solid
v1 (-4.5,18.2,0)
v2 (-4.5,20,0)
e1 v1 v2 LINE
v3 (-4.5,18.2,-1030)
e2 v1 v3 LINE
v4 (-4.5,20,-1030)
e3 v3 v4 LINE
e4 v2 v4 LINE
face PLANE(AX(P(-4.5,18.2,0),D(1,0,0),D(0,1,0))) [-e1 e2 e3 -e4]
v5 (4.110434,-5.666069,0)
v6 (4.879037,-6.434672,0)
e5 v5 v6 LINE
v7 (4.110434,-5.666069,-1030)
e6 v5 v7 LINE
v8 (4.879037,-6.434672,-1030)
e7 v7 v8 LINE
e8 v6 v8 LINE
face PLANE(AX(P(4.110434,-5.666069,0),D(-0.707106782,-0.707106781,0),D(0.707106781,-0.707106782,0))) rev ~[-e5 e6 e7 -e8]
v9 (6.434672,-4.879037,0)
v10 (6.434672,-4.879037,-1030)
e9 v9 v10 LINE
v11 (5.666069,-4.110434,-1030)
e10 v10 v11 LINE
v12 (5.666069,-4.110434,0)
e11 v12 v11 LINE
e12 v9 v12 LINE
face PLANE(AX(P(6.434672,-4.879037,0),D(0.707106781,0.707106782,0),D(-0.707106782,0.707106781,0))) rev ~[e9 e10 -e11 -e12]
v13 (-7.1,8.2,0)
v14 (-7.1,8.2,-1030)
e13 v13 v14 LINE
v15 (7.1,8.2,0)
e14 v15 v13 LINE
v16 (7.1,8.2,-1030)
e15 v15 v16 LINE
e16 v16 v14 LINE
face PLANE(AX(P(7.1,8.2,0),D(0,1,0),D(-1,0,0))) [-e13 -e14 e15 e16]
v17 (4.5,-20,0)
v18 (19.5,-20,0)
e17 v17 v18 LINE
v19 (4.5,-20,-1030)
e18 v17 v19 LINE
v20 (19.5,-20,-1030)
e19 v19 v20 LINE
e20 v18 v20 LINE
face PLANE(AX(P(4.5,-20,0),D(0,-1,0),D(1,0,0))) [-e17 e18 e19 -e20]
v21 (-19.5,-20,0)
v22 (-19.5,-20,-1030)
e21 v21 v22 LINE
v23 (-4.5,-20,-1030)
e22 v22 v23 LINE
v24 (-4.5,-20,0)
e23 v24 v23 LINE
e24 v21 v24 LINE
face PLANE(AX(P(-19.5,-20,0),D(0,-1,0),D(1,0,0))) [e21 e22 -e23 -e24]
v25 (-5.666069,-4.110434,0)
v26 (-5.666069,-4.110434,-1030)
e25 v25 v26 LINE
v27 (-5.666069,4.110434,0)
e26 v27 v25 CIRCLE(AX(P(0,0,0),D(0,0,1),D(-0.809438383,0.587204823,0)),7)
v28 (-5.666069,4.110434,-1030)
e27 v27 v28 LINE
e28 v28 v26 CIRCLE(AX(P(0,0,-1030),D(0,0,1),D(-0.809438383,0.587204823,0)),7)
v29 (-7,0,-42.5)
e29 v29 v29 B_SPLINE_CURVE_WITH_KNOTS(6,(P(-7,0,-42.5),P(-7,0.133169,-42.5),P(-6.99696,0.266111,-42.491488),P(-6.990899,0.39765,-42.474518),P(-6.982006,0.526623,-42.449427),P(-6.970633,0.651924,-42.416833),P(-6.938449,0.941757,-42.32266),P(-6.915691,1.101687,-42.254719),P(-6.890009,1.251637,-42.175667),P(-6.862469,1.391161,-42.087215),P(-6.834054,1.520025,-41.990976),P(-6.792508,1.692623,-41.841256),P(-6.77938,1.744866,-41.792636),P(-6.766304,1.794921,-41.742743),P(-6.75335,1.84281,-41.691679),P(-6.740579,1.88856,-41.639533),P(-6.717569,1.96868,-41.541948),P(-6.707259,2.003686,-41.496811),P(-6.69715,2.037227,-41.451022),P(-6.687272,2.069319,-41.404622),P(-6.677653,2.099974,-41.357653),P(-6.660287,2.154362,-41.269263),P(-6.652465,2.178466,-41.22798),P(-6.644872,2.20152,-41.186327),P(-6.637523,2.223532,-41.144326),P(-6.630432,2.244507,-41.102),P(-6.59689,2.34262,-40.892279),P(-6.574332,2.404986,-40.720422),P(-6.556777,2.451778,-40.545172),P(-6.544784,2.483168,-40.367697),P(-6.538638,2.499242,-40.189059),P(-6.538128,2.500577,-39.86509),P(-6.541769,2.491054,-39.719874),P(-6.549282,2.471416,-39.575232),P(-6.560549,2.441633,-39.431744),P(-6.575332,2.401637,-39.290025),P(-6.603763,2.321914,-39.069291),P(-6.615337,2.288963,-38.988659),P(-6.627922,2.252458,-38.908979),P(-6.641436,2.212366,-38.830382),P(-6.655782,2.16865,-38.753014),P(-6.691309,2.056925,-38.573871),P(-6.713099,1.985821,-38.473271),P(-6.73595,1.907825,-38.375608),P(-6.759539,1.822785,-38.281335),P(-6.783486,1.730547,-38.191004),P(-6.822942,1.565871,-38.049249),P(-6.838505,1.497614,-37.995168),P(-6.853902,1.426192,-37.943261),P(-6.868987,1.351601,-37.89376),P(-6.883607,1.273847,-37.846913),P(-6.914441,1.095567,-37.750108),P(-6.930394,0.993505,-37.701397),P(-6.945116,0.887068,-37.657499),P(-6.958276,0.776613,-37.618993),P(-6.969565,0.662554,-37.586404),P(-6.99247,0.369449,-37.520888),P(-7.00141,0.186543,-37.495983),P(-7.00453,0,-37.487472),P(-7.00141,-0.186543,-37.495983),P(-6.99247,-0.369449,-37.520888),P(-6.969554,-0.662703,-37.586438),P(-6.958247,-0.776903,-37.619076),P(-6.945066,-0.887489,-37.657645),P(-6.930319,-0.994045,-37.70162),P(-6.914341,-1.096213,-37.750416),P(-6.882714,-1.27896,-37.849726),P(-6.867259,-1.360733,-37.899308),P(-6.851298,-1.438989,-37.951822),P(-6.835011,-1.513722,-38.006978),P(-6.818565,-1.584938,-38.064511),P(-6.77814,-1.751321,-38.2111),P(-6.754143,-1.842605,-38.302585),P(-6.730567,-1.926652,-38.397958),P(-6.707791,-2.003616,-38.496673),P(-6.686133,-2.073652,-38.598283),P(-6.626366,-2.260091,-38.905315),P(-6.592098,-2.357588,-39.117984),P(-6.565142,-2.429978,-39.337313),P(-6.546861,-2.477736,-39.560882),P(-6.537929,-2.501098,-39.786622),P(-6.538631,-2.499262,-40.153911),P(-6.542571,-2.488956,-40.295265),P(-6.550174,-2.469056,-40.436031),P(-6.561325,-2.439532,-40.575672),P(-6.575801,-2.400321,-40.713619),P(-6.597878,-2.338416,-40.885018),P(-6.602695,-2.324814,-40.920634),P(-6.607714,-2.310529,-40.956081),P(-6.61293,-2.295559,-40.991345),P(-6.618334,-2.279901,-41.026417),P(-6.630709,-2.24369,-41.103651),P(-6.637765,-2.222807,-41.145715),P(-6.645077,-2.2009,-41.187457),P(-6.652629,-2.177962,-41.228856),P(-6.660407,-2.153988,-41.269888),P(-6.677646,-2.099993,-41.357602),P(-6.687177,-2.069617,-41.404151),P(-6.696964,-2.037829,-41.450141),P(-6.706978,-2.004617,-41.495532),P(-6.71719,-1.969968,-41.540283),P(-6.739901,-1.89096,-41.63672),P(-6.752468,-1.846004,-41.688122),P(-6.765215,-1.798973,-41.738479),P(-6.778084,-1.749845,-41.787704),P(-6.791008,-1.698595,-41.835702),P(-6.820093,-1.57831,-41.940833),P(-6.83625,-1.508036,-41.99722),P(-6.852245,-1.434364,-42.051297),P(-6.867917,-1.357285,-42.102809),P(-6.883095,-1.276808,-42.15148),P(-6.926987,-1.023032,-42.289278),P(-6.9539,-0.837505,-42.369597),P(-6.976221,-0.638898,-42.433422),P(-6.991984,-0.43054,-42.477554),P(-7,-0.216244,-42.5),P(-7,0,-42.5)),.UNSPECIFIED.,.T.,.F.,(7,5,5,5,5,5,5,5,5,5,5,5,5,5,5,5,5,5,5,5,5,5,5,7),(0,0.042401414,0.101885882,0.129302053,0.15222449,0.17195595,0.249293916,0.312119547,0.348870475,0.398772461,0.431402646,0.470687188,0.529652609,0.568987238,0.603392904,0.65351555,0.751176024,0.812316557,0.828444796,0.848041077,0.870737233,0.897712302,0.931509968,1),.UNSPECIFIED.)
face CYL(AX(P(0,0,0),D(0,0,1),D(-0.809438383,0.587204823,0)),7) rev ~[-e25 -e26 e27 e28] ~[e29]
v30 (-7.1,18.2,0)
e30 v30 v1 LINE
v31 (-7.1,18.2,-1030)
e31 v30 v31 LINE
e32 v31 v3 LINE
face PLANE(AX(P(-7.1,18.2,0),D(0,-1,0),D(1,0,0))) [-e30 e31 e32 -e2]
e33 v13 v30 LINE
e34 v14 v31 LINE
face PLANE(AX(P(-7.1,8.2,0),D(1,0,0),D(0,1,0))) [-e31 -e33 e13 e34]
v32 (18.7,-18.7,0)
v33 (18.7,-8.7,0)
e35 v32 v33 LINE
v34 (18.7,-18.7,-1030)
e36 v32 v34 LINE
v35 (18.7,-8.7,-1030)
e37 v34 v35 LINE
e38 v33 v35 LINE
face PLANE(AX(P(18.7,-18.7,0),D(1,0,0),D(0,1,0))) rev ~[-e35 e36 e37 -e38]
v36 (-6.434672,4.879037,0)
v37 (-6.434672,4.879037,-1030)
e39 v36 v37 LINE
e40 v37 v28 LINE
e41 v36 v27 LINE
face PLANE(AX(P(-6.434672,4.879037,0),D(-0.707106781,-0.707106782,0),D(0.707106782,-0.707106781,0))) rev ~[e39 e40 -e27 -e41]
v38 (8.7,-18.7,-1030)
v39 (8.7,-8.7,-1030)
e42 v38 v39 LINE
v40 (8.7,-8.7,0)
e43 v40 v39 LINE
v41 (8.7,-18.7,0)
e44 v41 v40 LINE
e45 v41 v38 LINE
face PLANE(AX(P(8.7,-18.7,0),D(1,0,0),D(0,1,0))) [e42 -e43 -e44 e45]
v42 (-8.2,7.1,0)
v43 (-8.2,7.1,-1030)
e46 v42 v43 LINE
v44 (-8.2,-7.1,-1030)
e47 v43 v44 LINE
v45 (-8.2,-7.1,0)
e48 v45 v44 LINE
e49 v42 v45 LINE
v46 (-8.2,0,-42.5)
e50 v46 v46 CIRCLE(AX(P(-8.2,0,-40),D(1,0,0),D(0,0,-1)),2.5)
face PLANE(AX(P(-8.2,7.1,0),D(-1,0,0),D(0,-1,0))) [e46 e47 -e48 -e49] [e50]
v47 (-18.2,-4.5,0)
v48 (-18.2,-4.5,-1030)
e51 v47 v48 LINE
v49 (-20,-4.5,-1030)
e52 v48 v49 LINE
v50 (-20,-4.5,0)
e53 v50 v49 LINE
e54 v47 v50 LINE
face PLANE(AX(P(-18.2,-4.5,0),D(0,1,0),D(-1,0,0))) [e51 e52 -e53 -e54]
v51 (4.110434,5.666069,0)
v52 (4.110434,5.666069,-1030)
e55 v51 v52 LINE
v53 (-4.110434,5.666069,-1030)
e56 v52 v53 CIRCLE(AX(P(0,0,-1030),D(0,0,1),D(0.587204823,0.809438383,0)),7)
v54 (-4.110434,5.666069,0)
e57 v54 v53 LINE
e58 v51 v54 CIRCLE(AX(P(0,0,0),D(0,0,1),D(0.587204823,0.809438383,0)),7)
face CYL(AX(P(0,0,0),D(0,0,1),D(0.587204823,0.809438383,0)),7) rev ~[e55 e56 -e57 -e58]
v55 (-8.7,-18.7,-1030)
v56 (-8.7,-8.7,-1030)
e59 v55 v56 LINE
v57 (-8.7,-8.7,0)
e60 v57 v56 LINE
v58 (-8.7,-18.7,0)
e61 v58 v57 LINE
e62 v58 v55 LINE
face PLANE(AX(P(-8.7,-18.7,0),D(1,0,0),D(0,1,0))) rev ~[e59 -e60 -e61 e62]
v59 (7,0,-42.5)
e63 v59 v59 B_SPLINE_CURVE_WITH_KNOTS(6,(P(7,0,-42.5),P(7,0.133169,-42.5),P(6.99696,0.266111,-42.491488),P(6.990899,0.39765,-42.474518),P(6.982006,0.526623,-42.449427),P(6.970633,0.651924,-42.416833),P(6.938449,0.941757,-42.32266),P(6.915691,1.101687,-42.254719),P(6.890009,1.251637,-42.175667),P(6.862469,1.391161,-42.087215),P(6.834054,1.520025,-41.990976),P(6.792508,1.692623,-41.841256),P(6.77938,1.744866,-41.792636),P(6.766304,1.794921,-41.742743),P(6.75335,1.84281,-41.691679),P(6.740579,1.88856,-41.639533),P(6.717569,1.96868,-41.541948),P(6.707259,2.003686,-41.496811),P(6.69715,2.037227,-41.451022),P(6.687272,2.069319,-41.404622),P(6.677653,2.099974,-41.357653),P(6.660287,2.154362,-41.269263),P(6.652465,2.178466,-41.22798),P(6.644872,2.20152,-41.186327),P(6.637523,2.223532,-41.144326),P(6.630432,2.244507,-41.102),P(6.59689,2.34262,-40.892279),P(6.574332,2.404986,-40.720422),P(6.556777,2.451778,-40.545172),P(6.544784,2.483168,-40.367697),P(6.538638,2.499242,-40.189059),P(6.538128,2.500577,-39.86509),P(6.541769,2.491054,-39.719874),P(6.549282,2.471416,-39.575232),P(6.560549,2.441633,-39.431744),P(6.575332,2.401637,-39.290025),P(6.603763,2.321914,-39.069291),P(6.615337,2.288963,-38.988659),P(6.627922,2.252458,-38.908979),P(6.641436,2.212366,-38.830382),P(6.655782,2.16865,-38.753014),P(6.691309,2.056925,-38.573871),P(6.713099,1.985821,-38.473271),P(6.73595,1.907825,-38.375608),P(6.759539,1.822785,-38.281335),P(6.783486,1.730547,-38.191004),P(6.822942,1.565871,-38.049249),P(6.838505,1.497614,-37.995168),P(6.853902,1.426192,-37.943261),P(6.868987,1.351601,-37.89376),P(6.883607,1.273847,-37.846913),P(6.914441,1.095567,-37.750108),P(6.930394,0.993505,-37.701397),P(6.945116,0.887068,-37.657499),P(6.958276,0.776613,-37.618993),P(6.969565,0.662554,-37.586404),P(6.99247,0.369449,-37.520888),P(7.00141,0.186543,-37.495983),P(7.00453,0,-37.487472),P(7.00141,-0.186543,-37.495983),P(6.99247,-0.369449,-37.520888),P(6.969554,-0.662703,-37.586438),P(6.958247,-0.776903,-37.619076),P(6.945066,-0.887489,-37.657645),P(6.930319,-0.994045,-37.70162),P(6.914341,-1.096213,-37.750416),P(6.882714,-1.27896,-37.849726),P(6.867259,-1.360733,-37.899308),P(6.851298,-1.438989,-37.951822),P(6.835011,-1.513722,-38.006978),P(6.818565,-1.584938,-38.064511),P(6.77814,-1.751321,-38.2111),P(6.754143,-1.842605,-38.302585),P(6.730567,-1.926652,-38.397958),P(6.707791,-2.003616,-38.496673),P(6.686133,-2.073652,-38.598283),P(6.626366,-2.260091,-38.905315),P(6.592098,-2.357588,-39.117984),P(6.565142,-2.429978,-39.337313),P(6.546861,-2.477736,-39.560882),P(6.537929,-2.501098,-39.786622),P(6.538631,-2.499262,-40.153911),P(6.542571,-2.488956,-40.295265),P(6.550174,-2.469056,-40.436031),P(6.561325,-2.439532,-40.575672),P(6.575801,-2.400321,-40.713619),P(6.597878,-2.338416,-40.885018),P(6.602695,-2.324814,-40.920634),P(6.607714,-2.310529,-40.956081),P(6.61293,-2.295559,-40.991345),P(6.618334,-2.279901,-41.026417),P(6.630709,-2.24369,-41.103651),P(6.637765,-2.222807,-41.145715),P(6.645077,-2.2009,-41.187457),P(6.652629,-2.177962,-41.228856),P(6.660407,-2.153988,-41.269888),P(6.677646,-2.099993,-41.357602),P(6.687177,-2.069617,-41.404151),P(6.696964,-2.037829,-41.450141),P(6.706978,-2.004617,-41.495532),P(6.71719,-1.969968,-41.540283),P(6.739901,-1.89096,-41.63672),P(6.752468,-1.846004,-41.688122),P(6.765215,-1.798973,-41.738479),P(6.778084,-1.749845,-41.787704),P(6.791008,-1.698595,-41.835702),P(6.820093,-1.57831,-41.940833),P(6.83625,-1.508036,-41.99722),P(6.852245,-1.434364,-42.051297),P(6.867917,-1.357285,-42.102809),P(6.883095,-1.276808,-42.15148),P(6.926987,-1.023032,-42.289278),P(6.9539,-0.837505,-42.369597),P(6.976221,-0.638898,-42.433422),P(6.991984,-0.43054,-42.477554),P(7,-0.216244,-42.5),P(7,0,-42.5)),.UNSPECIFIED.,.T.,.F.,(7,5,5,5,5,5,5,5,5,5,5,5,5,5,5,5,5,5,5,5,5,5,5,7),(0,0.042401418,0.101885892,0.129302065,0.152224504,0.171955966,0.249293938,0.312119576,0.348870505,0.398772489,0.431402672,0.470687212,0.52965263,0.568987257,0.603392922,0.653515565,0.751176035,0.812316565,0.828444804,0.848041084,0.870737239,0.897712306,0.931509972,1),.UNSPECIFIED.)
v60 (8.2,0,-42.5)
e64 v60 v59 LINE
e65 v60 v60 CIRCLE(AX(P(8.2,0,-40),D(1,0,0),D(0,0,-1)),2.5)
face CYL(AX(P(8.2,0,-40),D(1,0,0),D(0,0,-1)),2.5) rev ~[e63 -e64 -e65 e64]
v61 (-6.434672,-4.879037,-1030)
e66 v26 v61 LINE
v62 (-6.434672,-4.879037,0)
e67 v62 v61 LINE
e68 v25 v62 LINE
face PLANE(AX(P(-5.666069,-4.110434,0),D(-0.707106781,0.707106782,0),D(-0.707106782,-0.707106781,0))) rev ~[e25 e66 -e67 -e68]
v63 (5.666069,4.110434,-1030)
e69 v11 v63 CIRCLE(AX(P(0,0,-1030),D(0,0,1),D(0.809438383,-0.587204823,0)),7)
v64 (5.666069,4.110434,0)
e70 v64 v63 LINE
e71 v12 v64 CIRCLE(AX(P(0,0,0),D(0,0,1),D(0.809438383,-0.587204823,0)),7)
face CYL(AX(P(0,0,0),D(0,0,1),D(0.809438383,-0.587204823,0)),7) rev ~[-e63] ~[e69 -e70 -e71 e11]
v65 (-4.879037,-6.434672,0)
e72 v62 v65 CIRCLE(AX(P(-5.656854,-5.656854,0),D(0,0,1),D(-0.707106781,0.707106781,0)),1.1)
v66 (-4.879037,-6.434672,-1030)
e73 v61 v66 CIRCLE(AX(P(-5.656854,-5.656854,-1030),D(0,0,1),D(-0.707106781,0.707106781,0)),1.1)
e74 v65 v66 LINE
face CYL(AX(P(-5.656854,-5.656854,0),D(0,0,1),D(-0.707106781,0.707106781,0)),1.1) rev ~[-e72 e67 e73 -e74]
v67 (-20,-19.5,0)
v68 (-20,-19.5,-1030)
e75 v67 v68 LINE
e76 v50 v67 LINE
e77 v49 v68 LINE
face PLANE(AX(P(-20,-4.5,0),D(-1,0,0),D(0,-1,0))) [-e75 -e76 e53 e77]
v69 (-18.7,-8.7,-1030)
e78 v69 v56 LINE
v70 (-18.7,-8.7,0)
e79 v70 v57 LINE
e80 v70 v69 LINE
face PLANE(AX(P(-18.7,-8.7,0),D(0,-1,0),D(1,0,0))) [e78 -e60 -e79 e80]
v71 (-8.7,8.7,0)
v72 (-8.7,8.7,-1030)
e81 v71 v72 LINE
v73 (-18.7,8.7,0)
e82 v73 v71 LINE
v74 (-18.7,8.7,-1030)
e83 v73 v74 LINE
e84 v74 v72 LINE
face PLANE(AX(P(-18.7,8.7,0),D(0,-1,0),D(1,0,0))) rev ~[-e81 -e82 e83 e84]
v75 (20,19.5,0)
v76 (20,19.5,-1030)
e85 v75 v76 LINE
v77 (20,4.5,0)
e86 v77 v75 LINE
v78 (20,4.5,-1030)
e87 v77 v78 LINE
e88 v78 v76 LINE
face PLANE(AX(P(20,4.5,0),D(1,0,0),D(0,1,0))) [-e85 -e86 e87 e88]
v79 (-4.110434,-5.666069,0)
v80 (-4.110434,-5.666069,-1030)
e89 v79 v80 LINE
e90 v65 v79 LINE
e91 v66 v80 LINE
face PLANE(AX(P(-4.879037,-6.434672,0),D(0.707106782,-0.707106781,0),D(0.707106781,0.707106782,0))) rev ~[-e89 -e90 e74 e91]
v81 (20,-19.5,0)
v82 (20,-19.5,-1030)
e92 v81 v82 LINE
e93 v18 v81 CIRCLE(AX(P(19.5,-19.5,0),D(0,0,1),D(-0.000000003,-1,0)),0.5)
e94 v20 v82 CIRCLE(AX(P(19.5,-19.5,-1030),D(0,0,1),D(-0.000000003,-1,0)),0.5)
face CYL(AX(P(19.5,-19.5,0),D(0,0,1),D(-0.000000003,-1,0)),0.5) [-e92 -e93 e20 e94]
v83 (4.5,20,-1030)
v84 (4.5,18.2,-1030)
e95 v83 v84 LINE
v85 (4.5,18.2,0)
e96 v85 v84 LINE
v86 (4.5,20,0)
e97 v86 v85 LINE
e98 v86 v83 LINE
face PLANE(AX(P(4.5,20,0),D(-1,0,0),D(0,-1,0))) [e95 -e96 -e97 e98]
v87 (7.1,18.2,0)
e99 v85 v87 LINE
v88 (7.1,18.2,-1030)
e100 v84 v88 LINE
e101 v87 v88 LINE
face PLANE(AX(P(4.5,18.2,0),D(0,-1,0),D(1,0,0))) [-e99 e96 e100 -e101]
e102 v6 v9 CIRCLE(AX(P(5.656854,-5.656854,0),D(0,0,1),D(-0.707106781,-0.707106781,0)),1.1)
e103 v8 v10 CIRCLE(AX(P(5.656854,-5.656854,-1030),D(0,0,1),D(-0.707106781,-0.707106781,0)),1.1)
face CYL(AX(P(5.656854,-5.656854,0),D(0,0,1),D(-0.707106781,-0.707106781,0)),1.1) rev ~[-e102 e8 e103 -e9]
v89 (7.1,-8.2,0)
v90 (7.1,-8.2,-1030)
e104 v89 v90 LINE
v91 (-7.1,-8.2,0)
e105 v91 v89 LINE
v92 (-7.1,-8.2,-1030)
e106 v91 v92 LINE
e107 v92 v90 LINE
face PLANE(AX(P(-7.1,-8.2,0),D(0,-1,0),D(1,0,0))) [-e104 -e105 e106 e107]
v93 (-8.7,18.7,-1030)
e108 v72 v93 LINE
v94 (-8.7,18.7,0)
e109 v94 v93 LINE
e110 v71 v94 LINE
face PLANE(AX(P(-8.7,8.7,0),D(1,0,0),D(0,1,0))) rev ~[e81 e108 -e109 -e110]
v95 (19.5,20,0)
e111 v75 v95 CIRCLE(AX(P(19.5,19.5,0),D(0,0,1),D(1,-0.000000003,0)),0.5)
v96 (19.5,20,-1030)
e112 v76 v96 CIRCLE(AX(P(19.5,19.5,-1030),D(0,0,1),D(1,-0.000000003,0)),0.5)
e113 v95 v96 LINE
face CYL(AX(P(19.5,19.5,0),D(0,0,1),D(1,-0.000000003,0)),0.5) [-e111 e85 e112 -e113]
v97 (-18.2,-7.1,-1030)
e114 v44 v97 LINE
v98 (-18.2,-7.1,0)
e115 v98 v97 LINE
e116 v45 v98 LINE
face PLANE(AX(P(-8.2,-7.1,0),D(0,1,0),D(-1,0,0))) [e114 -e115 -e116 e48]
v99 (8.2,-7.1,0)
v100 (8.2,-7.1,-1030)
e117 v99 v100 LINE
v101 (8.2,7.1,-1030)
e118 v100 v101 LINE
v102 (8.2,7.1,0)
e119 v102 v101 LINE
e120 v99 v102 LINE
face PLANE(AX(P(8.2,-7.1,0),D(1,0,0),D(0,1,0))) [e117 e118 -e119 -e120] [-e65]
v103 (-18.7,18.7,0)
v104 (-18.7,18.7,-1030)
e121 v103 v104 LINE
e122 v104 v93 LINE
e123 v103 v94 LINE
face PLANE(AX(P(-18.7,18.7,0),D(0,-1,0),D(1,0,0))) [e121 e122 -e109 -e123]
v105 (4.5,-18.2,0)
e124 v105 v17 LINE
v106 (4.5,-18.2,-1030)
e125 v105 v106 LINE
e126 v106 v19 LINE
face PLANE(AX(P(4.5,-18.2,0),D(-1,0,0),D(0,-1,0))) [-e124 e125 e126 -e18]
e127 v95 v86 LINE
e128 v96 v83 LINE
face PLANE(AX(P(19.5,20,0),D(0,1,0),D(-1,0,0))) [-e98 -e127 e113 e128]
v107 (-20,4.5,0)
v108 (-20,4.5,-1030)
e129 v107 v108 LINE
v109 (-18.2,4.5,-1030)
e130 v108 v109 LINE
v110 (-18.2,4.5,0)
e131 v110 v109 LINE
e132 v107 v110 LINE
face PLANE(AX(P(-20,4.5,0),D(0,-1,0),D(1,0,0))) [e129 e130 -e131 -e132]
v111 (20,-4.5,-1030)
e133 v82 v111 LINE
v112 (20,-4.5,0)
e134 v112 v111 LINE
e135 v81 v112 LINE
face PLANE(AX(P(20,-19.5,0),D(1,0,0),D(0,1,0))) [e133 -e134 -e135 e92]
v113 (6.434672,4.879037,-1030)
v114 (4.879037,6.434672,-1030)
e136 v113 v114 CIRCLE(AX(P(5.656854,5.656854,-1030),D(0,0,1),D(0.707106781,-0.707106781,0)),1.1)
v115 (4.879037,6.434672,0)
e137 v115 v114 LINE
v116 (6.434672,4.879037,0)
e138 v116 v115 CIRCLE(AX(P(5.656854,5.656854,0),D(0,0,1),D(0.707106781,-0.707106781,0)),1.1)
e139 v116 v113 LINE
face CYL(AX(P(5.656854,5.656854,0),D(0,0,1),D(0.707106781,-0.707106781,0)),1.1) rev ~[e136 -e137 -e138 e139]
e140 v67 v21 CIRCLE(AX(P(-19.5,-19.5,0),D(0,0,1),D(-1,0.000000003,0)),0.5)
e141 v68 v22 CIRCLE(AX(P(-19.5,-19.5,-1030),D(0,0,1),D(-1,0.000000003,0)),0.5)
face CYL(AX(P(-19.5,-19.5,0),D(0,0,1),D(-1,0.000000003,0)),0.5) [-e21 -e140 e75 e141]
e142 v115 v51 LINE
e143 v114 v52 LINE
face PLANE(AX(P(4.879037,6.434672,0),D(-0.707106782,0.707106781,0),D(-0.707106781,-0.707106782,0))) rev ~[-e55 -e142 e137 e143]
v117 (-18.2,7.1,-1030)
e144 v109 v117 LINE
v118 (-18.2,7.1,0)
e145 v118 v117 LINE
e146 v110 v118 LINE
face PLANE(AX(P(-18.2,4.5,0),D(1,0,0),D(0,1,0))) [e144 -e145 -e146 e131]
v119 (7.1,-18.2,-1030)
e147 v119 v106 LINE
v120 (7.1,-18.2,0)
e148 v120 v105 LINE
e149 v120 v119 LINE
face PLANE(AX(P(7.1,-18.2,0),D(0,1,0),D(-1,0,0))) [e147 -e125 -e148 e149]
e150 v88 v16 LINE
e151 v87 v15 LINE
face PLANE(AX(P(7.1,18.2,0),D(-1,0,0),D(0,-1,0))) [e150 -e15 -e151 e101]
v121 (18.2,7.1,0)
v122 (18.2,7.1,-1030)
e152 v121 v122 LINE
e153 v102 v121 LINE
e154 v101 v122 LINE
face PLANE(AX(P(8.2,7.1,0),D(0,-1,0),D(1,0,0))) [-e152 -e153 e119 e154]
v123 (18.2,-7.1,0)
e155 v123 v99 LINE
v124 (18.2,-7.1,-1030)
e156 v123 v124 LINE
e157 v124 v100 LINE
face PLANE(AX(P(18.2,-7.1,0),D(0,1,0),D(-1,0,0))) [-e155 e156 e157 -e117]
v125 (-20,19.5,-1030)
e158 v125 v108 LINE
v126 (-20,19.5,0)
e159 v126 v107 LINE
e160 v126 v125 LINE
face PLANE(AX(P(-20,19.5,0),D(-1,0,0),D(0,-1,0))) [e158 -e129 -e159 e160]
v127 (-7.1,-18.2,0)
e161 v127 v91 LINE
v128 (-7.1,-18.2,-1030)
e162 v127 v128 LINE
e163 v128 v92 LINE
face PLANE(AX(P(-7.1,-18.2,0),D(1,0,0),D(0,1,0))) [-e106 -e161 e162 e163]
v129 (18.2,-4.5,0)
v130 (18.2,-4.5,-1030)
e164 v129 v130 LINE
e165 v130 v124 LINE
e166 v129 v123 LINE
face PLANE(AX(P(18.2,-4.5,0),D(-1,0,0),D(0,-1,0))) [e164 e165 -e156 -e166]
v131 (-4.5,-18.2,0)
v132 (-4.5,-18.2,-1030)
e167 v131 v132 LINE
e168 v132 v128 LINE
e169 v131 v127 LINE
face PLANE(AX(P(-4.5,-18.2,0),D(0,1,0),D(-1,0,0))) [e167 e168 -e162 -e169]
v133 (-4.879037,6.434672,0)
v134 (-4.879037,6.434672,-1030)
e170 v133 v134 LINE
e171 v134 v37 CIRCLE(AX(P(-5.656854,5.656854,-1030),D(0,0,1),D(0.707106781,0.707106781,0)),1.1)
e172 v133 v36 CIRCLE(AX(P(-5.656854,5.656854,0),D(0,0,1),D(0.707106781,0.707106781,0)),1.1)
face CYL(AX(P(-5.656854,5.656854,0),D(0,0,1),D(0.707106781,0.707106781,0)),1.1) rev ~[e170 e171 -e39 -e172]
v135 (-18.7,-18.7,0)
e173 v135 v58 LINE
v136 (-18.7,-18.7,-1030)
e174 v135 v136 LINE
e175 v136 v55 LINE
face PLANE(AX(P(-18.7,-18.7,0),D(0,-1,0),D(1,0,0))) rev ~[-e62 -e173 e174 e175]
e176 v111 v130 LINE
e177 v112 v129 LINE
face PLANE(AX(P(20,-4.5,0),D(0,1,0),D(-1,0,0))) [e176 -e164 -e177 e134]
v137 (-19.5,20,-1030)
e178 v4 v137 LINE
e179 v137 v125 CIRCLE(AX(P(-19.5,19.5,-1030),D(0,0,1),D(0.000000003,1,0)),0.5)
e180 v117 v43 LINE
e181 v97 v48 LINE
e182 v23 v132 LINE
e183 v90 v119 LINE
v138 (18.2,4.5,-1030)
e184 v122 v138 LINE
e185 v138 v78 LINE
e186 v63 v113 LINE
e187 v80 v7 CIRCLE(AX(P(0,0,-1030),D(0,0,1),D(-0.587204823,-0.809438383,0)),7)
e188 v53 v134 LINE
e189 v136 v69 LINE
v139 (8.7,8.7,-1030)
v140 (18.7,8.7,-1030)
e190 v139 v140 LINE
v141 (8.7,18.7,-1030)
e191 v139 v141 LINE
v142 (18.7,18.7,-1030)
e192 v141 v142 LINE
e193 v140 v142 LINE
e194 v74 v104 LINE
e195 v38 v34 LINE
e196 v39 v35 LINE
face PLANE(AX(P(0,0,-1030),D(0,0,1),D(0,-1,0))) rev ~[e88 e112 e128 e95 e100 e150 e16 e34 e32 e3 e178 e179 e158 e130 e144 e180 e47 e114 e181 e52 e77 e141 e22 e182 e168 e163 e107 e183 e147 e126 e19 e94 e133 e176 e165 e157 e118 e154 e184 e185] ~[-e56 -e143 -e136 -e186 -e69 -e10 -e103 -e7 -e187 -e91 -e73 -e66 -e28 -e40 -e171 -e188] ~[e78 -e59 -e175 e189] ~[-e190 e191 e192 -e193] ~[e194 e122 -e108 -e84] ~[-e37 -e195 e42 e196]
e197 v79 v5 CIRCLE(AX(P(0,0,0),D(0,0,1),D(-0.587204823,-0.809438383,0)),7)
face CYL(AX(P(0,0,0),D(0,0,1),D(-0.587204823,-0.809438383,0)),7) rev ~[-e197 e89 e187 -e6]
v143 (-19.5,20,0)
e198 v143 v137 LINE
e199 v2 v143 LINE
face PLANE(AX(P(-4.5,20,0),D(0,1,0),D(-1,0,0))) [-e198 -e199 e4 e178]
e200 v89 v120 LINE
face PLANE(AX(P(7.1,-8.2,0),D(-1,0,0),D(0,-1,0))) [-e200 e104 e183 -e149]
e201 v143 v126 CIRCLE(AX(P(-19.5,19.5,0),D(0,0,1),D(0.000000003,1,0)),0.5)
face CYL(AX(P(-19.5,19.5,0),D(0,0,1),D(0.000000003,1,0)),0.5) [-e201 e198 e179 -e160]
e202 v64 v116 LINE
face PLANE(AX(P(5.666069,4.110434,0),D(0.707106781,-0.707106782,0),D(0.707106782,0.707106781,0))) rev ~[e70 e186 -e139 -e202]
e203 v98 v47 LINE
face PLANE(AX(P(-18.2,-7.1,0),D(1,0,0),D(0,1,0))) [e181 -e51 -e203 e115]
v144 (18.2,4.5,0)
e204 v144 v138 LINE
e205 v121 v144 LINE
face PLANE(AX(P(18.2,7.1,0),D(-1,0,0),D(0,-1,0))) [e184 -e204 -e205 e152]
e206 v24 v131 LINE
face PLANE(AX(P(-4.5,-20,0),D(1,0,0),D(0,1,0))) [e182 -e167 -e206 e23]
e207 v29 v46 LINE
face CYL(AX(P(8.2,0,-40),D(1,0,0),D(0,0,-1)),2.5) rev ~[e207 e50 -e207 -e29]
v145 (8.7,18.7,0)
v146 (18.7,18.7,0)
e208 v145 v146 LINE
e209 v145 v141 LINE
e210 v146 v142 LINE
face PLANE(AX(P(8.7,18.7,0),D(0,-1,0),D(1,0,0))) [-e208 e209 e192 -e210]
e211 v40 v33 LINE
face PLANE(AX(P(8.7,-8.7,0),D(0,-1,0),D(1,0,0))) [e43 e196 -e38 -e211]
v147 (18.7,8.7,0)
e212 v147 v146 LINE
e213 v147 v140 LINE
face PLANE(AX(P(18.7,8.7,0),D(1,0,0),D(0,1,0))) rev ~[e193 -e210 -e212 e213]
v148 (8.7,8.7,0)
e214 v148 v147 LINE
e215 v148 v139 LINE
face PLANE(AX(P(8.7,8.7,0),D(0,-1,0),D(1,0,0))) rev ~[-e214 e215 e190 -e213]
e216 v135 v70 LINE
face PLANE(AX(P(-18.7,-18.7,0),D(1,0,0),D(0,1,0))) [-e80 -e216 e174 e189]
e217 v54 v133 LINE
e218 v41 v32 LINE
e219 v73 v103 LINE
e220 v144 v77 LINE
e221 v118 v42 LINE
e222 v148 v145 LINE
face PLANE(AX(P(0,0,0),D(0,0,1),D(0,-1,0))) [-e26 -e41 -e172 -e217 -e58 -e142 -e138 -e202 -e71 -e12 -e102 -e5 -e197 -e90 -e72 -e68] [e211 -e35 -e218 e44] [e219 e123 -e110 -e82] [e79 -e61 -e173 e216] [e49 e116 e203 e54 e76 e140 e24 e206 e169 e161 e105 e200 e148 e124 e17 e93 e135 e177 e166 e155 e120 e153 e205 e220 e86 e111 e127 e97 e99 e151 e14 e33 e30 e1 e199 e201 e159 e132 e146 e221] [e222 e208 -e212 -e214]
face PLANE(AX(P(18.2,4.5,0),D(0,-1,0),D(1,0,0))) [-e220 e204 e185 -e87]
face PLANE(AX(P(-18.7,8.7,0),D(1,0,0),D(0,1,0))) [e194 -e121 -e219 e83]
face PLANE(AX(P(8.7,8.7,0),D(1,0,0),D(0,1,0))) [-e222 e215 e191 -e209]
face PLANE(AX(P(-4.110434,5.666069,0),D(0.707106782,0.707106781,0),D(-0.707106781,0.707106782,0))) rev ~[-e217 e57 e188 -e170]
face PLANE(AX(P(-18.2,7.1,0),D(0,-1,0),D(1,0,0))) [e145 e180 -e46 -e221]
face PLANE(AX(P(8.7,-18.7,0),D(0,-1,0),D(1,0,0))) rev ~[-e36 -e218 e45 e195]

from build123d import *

# Parameters (mm, degrees)
SKETCH1_W                 = 10
SKETCH1_H                 = 10
F_40_X_40A_X_R0_5_1_DEPTH = 1030
SKETCH_2_R                = 2.5
CUT_EXTRUDE_1_DEPTH       = 1031.580050263


with BuildPart() as part:
    # Sketch1 → 铝型材 40 X 40A X R0.5(1) (new body)
    with BuildSketch(Plane.YX):
        with BuildLine():
            Line((-19.5, 20), (-4.5, 20))
            Line((-4.5, 20), (-4.5, 18.2))
            Line((-4.5, 18.2), (-7.1, 18.2))
            Line((-7.1, 18.2), (-7.1, 8.2))
            Line((-7.1, 8.2), (7.1, 8.2))
            Line((7.1, 8.2), (7.1, 18.2))
            Line((7.1, 18.2), (4.5, 18.2))
            Line((4.5, 18.2), (4.5, 20))
            Line((4.5, 20), (19.5, 20))
            ThreePointArc((19.5, 20), (19.853553391, 19.853553391), (20, 19.5))
            Line((20, 19.5), (20, 4.5))
            Line((20, 4.5), (18.2, 4.5))
            Line((18.2, 4.5), (18.2, 7.1))
            Line((18.2, 7.1), (8.2, 7.1))
            Line((8.2, 7.1), (8.2, -7.1))
            Line((8.2, -7.1), (18.2, -7.1))
            Line((18.2, -7.1), (18.2, -4.5))
            Line((18.2, -4.5), (20, -4.5))
            Line((20, -4.5), (20, -19.5))
            ThreePointArc((20, -19.5), (19.853553391, -19.853553391), (19.5, -20))
            Line((19.5, -20), (4.5, -20))
            Line((4.5, -20), (4.5, -18.2))
            Line((4.5, -18.2), (7.1, -18.2))
            Line((7.1, -18.2), (7.1, -8.2))
            Line((7.1, -8.2), (-7.1, -8.2))
            Line((-7.1, -8.2), (-7.1, -18.2))
            Line((-7.1, -18.2), (-4.5, -18.2))
            Line((-4.5, -18.2), (-4.5, -20))
            Line((-4.5, -20), (-19.5, -20))
            ThreePointArc((-19.5, -20), (-19.853553391, -19.853553391), (-20, -19.5))
            Line((-20, -19.5), (-20, -4.5))
            Line((-20, -4.5), (-18.2, -4.5))
            Line((-18.2, -4.5), (-18.2, -7.1))
            Line((-18.2, -7.1), (-8.2, -7.1))
            Line((-8.2, -7.1), (-8.2, 7.1))
            Line((-8.2, 7.1), (-18.2, 7.1))
            Line((-18.2, 7.1), (-18.2, 4.5))
            Line((-18.2, 4.5), (-20, 4.5))
            Line((-20, 4.5), (-20, 19.5))
            ThreePointArc((-20, 19.5), (-19.853553391, 19.853553391), (-19.5, 20))
        make_face()
        with BuildLine():
            Line((-4.87903679, 6.434671709), (-4.110433762, 5.66606868))
            ThreePointArc((-4.110433762, 5.66606868), (0, 7), (4.110433762, 5.66606868))
            Line((4.110433762, 5.66606868), (4.87903679, 6.434671709))
            ThreePointArc((4.87903679, 6.434671709), (6.434671709, 6.434671709), (6.434671709, 4.87903679))
            Line((6.434671709, 4.87903679), (5.66606868, 4.110433762))
            ThreePointArc((5.66606868, 4.110433762), (7, 0), (5.66606868, -4.110433762))
            Line((5.66606868, -4.110433762), (6.434671709, -4.87903679))
            ThreePointArc((6.434671709, -4.87903679), (6.434671709, -6.434671709), (4.87903679, -6.434671709))
            Line((4.87903679, -6.434671709), (4.110433762, -5.66606868))
            ThreePointArc((4.110433762, -5.66606868), (0, -7), (-4.110433762, -5.66606868))
            Line((-4.110433762, -5.66606868), (-4.87903679, -6.434671709))
            ThreePointArc((-4.87903679, -6.434671709), (-6.434671709, -6.434671709), (-6.434671709, -4.87903679))
            Line((-6.434671709, -4.87903679), (-5.66606868, -4.110433762))
            ThreePointArc((-5.66606868, -4.110433762), (-7, 0), (-5.66606868, 4.110433762))
            Line((-5.66606868, 4.110433762), (-6.434671709, 4.87903679))
            ThreePointArc((-6.434671709, 4.87903679), (-6.434671709, 6.434671709), (-4.87903679, 6.434671709))
        make_face(mode=Mode.SUBTRACT)
        with Locations((-13.7, 13.7)):
            Rectangle(SKETCH1_W, SKETCH1_H, mode=Mode.SUBTRACT)
        with Locations((13.7, 13.7)):
            Rectangle(SKETCH1_W, SKETCH1_H, mode=Mode.SUBTRACT)
        with Locations((13.7, -13.7)):
            Rectangle(SKETCH1_W, SKETCH1_H, mode=Mode.SUBTRACT)
        with Locations((-13.7, -13.7)):
            Rectangle(SKETCH1_W, SKETCH1_H, mode=Mode.SUBTRACT)
    extrude(amount=F_40_X_40A_X_R0_5_1_DEPTH)

    # 草图2 → 切除-拉伸1 (cut, through all)
    with BuildSketch(Plane(origin=(8.2, 0, 0), x_dir=(0, 0, -1), z_dir=(1, 0, 0))):
        with Locations((40, 0)):
            Circle(SKETCH_2_R)
    extrude(amount=-CUT_EXTRUDE_1_DEPTH, mode=Mode.SUBTRACT)


solid = part.part
